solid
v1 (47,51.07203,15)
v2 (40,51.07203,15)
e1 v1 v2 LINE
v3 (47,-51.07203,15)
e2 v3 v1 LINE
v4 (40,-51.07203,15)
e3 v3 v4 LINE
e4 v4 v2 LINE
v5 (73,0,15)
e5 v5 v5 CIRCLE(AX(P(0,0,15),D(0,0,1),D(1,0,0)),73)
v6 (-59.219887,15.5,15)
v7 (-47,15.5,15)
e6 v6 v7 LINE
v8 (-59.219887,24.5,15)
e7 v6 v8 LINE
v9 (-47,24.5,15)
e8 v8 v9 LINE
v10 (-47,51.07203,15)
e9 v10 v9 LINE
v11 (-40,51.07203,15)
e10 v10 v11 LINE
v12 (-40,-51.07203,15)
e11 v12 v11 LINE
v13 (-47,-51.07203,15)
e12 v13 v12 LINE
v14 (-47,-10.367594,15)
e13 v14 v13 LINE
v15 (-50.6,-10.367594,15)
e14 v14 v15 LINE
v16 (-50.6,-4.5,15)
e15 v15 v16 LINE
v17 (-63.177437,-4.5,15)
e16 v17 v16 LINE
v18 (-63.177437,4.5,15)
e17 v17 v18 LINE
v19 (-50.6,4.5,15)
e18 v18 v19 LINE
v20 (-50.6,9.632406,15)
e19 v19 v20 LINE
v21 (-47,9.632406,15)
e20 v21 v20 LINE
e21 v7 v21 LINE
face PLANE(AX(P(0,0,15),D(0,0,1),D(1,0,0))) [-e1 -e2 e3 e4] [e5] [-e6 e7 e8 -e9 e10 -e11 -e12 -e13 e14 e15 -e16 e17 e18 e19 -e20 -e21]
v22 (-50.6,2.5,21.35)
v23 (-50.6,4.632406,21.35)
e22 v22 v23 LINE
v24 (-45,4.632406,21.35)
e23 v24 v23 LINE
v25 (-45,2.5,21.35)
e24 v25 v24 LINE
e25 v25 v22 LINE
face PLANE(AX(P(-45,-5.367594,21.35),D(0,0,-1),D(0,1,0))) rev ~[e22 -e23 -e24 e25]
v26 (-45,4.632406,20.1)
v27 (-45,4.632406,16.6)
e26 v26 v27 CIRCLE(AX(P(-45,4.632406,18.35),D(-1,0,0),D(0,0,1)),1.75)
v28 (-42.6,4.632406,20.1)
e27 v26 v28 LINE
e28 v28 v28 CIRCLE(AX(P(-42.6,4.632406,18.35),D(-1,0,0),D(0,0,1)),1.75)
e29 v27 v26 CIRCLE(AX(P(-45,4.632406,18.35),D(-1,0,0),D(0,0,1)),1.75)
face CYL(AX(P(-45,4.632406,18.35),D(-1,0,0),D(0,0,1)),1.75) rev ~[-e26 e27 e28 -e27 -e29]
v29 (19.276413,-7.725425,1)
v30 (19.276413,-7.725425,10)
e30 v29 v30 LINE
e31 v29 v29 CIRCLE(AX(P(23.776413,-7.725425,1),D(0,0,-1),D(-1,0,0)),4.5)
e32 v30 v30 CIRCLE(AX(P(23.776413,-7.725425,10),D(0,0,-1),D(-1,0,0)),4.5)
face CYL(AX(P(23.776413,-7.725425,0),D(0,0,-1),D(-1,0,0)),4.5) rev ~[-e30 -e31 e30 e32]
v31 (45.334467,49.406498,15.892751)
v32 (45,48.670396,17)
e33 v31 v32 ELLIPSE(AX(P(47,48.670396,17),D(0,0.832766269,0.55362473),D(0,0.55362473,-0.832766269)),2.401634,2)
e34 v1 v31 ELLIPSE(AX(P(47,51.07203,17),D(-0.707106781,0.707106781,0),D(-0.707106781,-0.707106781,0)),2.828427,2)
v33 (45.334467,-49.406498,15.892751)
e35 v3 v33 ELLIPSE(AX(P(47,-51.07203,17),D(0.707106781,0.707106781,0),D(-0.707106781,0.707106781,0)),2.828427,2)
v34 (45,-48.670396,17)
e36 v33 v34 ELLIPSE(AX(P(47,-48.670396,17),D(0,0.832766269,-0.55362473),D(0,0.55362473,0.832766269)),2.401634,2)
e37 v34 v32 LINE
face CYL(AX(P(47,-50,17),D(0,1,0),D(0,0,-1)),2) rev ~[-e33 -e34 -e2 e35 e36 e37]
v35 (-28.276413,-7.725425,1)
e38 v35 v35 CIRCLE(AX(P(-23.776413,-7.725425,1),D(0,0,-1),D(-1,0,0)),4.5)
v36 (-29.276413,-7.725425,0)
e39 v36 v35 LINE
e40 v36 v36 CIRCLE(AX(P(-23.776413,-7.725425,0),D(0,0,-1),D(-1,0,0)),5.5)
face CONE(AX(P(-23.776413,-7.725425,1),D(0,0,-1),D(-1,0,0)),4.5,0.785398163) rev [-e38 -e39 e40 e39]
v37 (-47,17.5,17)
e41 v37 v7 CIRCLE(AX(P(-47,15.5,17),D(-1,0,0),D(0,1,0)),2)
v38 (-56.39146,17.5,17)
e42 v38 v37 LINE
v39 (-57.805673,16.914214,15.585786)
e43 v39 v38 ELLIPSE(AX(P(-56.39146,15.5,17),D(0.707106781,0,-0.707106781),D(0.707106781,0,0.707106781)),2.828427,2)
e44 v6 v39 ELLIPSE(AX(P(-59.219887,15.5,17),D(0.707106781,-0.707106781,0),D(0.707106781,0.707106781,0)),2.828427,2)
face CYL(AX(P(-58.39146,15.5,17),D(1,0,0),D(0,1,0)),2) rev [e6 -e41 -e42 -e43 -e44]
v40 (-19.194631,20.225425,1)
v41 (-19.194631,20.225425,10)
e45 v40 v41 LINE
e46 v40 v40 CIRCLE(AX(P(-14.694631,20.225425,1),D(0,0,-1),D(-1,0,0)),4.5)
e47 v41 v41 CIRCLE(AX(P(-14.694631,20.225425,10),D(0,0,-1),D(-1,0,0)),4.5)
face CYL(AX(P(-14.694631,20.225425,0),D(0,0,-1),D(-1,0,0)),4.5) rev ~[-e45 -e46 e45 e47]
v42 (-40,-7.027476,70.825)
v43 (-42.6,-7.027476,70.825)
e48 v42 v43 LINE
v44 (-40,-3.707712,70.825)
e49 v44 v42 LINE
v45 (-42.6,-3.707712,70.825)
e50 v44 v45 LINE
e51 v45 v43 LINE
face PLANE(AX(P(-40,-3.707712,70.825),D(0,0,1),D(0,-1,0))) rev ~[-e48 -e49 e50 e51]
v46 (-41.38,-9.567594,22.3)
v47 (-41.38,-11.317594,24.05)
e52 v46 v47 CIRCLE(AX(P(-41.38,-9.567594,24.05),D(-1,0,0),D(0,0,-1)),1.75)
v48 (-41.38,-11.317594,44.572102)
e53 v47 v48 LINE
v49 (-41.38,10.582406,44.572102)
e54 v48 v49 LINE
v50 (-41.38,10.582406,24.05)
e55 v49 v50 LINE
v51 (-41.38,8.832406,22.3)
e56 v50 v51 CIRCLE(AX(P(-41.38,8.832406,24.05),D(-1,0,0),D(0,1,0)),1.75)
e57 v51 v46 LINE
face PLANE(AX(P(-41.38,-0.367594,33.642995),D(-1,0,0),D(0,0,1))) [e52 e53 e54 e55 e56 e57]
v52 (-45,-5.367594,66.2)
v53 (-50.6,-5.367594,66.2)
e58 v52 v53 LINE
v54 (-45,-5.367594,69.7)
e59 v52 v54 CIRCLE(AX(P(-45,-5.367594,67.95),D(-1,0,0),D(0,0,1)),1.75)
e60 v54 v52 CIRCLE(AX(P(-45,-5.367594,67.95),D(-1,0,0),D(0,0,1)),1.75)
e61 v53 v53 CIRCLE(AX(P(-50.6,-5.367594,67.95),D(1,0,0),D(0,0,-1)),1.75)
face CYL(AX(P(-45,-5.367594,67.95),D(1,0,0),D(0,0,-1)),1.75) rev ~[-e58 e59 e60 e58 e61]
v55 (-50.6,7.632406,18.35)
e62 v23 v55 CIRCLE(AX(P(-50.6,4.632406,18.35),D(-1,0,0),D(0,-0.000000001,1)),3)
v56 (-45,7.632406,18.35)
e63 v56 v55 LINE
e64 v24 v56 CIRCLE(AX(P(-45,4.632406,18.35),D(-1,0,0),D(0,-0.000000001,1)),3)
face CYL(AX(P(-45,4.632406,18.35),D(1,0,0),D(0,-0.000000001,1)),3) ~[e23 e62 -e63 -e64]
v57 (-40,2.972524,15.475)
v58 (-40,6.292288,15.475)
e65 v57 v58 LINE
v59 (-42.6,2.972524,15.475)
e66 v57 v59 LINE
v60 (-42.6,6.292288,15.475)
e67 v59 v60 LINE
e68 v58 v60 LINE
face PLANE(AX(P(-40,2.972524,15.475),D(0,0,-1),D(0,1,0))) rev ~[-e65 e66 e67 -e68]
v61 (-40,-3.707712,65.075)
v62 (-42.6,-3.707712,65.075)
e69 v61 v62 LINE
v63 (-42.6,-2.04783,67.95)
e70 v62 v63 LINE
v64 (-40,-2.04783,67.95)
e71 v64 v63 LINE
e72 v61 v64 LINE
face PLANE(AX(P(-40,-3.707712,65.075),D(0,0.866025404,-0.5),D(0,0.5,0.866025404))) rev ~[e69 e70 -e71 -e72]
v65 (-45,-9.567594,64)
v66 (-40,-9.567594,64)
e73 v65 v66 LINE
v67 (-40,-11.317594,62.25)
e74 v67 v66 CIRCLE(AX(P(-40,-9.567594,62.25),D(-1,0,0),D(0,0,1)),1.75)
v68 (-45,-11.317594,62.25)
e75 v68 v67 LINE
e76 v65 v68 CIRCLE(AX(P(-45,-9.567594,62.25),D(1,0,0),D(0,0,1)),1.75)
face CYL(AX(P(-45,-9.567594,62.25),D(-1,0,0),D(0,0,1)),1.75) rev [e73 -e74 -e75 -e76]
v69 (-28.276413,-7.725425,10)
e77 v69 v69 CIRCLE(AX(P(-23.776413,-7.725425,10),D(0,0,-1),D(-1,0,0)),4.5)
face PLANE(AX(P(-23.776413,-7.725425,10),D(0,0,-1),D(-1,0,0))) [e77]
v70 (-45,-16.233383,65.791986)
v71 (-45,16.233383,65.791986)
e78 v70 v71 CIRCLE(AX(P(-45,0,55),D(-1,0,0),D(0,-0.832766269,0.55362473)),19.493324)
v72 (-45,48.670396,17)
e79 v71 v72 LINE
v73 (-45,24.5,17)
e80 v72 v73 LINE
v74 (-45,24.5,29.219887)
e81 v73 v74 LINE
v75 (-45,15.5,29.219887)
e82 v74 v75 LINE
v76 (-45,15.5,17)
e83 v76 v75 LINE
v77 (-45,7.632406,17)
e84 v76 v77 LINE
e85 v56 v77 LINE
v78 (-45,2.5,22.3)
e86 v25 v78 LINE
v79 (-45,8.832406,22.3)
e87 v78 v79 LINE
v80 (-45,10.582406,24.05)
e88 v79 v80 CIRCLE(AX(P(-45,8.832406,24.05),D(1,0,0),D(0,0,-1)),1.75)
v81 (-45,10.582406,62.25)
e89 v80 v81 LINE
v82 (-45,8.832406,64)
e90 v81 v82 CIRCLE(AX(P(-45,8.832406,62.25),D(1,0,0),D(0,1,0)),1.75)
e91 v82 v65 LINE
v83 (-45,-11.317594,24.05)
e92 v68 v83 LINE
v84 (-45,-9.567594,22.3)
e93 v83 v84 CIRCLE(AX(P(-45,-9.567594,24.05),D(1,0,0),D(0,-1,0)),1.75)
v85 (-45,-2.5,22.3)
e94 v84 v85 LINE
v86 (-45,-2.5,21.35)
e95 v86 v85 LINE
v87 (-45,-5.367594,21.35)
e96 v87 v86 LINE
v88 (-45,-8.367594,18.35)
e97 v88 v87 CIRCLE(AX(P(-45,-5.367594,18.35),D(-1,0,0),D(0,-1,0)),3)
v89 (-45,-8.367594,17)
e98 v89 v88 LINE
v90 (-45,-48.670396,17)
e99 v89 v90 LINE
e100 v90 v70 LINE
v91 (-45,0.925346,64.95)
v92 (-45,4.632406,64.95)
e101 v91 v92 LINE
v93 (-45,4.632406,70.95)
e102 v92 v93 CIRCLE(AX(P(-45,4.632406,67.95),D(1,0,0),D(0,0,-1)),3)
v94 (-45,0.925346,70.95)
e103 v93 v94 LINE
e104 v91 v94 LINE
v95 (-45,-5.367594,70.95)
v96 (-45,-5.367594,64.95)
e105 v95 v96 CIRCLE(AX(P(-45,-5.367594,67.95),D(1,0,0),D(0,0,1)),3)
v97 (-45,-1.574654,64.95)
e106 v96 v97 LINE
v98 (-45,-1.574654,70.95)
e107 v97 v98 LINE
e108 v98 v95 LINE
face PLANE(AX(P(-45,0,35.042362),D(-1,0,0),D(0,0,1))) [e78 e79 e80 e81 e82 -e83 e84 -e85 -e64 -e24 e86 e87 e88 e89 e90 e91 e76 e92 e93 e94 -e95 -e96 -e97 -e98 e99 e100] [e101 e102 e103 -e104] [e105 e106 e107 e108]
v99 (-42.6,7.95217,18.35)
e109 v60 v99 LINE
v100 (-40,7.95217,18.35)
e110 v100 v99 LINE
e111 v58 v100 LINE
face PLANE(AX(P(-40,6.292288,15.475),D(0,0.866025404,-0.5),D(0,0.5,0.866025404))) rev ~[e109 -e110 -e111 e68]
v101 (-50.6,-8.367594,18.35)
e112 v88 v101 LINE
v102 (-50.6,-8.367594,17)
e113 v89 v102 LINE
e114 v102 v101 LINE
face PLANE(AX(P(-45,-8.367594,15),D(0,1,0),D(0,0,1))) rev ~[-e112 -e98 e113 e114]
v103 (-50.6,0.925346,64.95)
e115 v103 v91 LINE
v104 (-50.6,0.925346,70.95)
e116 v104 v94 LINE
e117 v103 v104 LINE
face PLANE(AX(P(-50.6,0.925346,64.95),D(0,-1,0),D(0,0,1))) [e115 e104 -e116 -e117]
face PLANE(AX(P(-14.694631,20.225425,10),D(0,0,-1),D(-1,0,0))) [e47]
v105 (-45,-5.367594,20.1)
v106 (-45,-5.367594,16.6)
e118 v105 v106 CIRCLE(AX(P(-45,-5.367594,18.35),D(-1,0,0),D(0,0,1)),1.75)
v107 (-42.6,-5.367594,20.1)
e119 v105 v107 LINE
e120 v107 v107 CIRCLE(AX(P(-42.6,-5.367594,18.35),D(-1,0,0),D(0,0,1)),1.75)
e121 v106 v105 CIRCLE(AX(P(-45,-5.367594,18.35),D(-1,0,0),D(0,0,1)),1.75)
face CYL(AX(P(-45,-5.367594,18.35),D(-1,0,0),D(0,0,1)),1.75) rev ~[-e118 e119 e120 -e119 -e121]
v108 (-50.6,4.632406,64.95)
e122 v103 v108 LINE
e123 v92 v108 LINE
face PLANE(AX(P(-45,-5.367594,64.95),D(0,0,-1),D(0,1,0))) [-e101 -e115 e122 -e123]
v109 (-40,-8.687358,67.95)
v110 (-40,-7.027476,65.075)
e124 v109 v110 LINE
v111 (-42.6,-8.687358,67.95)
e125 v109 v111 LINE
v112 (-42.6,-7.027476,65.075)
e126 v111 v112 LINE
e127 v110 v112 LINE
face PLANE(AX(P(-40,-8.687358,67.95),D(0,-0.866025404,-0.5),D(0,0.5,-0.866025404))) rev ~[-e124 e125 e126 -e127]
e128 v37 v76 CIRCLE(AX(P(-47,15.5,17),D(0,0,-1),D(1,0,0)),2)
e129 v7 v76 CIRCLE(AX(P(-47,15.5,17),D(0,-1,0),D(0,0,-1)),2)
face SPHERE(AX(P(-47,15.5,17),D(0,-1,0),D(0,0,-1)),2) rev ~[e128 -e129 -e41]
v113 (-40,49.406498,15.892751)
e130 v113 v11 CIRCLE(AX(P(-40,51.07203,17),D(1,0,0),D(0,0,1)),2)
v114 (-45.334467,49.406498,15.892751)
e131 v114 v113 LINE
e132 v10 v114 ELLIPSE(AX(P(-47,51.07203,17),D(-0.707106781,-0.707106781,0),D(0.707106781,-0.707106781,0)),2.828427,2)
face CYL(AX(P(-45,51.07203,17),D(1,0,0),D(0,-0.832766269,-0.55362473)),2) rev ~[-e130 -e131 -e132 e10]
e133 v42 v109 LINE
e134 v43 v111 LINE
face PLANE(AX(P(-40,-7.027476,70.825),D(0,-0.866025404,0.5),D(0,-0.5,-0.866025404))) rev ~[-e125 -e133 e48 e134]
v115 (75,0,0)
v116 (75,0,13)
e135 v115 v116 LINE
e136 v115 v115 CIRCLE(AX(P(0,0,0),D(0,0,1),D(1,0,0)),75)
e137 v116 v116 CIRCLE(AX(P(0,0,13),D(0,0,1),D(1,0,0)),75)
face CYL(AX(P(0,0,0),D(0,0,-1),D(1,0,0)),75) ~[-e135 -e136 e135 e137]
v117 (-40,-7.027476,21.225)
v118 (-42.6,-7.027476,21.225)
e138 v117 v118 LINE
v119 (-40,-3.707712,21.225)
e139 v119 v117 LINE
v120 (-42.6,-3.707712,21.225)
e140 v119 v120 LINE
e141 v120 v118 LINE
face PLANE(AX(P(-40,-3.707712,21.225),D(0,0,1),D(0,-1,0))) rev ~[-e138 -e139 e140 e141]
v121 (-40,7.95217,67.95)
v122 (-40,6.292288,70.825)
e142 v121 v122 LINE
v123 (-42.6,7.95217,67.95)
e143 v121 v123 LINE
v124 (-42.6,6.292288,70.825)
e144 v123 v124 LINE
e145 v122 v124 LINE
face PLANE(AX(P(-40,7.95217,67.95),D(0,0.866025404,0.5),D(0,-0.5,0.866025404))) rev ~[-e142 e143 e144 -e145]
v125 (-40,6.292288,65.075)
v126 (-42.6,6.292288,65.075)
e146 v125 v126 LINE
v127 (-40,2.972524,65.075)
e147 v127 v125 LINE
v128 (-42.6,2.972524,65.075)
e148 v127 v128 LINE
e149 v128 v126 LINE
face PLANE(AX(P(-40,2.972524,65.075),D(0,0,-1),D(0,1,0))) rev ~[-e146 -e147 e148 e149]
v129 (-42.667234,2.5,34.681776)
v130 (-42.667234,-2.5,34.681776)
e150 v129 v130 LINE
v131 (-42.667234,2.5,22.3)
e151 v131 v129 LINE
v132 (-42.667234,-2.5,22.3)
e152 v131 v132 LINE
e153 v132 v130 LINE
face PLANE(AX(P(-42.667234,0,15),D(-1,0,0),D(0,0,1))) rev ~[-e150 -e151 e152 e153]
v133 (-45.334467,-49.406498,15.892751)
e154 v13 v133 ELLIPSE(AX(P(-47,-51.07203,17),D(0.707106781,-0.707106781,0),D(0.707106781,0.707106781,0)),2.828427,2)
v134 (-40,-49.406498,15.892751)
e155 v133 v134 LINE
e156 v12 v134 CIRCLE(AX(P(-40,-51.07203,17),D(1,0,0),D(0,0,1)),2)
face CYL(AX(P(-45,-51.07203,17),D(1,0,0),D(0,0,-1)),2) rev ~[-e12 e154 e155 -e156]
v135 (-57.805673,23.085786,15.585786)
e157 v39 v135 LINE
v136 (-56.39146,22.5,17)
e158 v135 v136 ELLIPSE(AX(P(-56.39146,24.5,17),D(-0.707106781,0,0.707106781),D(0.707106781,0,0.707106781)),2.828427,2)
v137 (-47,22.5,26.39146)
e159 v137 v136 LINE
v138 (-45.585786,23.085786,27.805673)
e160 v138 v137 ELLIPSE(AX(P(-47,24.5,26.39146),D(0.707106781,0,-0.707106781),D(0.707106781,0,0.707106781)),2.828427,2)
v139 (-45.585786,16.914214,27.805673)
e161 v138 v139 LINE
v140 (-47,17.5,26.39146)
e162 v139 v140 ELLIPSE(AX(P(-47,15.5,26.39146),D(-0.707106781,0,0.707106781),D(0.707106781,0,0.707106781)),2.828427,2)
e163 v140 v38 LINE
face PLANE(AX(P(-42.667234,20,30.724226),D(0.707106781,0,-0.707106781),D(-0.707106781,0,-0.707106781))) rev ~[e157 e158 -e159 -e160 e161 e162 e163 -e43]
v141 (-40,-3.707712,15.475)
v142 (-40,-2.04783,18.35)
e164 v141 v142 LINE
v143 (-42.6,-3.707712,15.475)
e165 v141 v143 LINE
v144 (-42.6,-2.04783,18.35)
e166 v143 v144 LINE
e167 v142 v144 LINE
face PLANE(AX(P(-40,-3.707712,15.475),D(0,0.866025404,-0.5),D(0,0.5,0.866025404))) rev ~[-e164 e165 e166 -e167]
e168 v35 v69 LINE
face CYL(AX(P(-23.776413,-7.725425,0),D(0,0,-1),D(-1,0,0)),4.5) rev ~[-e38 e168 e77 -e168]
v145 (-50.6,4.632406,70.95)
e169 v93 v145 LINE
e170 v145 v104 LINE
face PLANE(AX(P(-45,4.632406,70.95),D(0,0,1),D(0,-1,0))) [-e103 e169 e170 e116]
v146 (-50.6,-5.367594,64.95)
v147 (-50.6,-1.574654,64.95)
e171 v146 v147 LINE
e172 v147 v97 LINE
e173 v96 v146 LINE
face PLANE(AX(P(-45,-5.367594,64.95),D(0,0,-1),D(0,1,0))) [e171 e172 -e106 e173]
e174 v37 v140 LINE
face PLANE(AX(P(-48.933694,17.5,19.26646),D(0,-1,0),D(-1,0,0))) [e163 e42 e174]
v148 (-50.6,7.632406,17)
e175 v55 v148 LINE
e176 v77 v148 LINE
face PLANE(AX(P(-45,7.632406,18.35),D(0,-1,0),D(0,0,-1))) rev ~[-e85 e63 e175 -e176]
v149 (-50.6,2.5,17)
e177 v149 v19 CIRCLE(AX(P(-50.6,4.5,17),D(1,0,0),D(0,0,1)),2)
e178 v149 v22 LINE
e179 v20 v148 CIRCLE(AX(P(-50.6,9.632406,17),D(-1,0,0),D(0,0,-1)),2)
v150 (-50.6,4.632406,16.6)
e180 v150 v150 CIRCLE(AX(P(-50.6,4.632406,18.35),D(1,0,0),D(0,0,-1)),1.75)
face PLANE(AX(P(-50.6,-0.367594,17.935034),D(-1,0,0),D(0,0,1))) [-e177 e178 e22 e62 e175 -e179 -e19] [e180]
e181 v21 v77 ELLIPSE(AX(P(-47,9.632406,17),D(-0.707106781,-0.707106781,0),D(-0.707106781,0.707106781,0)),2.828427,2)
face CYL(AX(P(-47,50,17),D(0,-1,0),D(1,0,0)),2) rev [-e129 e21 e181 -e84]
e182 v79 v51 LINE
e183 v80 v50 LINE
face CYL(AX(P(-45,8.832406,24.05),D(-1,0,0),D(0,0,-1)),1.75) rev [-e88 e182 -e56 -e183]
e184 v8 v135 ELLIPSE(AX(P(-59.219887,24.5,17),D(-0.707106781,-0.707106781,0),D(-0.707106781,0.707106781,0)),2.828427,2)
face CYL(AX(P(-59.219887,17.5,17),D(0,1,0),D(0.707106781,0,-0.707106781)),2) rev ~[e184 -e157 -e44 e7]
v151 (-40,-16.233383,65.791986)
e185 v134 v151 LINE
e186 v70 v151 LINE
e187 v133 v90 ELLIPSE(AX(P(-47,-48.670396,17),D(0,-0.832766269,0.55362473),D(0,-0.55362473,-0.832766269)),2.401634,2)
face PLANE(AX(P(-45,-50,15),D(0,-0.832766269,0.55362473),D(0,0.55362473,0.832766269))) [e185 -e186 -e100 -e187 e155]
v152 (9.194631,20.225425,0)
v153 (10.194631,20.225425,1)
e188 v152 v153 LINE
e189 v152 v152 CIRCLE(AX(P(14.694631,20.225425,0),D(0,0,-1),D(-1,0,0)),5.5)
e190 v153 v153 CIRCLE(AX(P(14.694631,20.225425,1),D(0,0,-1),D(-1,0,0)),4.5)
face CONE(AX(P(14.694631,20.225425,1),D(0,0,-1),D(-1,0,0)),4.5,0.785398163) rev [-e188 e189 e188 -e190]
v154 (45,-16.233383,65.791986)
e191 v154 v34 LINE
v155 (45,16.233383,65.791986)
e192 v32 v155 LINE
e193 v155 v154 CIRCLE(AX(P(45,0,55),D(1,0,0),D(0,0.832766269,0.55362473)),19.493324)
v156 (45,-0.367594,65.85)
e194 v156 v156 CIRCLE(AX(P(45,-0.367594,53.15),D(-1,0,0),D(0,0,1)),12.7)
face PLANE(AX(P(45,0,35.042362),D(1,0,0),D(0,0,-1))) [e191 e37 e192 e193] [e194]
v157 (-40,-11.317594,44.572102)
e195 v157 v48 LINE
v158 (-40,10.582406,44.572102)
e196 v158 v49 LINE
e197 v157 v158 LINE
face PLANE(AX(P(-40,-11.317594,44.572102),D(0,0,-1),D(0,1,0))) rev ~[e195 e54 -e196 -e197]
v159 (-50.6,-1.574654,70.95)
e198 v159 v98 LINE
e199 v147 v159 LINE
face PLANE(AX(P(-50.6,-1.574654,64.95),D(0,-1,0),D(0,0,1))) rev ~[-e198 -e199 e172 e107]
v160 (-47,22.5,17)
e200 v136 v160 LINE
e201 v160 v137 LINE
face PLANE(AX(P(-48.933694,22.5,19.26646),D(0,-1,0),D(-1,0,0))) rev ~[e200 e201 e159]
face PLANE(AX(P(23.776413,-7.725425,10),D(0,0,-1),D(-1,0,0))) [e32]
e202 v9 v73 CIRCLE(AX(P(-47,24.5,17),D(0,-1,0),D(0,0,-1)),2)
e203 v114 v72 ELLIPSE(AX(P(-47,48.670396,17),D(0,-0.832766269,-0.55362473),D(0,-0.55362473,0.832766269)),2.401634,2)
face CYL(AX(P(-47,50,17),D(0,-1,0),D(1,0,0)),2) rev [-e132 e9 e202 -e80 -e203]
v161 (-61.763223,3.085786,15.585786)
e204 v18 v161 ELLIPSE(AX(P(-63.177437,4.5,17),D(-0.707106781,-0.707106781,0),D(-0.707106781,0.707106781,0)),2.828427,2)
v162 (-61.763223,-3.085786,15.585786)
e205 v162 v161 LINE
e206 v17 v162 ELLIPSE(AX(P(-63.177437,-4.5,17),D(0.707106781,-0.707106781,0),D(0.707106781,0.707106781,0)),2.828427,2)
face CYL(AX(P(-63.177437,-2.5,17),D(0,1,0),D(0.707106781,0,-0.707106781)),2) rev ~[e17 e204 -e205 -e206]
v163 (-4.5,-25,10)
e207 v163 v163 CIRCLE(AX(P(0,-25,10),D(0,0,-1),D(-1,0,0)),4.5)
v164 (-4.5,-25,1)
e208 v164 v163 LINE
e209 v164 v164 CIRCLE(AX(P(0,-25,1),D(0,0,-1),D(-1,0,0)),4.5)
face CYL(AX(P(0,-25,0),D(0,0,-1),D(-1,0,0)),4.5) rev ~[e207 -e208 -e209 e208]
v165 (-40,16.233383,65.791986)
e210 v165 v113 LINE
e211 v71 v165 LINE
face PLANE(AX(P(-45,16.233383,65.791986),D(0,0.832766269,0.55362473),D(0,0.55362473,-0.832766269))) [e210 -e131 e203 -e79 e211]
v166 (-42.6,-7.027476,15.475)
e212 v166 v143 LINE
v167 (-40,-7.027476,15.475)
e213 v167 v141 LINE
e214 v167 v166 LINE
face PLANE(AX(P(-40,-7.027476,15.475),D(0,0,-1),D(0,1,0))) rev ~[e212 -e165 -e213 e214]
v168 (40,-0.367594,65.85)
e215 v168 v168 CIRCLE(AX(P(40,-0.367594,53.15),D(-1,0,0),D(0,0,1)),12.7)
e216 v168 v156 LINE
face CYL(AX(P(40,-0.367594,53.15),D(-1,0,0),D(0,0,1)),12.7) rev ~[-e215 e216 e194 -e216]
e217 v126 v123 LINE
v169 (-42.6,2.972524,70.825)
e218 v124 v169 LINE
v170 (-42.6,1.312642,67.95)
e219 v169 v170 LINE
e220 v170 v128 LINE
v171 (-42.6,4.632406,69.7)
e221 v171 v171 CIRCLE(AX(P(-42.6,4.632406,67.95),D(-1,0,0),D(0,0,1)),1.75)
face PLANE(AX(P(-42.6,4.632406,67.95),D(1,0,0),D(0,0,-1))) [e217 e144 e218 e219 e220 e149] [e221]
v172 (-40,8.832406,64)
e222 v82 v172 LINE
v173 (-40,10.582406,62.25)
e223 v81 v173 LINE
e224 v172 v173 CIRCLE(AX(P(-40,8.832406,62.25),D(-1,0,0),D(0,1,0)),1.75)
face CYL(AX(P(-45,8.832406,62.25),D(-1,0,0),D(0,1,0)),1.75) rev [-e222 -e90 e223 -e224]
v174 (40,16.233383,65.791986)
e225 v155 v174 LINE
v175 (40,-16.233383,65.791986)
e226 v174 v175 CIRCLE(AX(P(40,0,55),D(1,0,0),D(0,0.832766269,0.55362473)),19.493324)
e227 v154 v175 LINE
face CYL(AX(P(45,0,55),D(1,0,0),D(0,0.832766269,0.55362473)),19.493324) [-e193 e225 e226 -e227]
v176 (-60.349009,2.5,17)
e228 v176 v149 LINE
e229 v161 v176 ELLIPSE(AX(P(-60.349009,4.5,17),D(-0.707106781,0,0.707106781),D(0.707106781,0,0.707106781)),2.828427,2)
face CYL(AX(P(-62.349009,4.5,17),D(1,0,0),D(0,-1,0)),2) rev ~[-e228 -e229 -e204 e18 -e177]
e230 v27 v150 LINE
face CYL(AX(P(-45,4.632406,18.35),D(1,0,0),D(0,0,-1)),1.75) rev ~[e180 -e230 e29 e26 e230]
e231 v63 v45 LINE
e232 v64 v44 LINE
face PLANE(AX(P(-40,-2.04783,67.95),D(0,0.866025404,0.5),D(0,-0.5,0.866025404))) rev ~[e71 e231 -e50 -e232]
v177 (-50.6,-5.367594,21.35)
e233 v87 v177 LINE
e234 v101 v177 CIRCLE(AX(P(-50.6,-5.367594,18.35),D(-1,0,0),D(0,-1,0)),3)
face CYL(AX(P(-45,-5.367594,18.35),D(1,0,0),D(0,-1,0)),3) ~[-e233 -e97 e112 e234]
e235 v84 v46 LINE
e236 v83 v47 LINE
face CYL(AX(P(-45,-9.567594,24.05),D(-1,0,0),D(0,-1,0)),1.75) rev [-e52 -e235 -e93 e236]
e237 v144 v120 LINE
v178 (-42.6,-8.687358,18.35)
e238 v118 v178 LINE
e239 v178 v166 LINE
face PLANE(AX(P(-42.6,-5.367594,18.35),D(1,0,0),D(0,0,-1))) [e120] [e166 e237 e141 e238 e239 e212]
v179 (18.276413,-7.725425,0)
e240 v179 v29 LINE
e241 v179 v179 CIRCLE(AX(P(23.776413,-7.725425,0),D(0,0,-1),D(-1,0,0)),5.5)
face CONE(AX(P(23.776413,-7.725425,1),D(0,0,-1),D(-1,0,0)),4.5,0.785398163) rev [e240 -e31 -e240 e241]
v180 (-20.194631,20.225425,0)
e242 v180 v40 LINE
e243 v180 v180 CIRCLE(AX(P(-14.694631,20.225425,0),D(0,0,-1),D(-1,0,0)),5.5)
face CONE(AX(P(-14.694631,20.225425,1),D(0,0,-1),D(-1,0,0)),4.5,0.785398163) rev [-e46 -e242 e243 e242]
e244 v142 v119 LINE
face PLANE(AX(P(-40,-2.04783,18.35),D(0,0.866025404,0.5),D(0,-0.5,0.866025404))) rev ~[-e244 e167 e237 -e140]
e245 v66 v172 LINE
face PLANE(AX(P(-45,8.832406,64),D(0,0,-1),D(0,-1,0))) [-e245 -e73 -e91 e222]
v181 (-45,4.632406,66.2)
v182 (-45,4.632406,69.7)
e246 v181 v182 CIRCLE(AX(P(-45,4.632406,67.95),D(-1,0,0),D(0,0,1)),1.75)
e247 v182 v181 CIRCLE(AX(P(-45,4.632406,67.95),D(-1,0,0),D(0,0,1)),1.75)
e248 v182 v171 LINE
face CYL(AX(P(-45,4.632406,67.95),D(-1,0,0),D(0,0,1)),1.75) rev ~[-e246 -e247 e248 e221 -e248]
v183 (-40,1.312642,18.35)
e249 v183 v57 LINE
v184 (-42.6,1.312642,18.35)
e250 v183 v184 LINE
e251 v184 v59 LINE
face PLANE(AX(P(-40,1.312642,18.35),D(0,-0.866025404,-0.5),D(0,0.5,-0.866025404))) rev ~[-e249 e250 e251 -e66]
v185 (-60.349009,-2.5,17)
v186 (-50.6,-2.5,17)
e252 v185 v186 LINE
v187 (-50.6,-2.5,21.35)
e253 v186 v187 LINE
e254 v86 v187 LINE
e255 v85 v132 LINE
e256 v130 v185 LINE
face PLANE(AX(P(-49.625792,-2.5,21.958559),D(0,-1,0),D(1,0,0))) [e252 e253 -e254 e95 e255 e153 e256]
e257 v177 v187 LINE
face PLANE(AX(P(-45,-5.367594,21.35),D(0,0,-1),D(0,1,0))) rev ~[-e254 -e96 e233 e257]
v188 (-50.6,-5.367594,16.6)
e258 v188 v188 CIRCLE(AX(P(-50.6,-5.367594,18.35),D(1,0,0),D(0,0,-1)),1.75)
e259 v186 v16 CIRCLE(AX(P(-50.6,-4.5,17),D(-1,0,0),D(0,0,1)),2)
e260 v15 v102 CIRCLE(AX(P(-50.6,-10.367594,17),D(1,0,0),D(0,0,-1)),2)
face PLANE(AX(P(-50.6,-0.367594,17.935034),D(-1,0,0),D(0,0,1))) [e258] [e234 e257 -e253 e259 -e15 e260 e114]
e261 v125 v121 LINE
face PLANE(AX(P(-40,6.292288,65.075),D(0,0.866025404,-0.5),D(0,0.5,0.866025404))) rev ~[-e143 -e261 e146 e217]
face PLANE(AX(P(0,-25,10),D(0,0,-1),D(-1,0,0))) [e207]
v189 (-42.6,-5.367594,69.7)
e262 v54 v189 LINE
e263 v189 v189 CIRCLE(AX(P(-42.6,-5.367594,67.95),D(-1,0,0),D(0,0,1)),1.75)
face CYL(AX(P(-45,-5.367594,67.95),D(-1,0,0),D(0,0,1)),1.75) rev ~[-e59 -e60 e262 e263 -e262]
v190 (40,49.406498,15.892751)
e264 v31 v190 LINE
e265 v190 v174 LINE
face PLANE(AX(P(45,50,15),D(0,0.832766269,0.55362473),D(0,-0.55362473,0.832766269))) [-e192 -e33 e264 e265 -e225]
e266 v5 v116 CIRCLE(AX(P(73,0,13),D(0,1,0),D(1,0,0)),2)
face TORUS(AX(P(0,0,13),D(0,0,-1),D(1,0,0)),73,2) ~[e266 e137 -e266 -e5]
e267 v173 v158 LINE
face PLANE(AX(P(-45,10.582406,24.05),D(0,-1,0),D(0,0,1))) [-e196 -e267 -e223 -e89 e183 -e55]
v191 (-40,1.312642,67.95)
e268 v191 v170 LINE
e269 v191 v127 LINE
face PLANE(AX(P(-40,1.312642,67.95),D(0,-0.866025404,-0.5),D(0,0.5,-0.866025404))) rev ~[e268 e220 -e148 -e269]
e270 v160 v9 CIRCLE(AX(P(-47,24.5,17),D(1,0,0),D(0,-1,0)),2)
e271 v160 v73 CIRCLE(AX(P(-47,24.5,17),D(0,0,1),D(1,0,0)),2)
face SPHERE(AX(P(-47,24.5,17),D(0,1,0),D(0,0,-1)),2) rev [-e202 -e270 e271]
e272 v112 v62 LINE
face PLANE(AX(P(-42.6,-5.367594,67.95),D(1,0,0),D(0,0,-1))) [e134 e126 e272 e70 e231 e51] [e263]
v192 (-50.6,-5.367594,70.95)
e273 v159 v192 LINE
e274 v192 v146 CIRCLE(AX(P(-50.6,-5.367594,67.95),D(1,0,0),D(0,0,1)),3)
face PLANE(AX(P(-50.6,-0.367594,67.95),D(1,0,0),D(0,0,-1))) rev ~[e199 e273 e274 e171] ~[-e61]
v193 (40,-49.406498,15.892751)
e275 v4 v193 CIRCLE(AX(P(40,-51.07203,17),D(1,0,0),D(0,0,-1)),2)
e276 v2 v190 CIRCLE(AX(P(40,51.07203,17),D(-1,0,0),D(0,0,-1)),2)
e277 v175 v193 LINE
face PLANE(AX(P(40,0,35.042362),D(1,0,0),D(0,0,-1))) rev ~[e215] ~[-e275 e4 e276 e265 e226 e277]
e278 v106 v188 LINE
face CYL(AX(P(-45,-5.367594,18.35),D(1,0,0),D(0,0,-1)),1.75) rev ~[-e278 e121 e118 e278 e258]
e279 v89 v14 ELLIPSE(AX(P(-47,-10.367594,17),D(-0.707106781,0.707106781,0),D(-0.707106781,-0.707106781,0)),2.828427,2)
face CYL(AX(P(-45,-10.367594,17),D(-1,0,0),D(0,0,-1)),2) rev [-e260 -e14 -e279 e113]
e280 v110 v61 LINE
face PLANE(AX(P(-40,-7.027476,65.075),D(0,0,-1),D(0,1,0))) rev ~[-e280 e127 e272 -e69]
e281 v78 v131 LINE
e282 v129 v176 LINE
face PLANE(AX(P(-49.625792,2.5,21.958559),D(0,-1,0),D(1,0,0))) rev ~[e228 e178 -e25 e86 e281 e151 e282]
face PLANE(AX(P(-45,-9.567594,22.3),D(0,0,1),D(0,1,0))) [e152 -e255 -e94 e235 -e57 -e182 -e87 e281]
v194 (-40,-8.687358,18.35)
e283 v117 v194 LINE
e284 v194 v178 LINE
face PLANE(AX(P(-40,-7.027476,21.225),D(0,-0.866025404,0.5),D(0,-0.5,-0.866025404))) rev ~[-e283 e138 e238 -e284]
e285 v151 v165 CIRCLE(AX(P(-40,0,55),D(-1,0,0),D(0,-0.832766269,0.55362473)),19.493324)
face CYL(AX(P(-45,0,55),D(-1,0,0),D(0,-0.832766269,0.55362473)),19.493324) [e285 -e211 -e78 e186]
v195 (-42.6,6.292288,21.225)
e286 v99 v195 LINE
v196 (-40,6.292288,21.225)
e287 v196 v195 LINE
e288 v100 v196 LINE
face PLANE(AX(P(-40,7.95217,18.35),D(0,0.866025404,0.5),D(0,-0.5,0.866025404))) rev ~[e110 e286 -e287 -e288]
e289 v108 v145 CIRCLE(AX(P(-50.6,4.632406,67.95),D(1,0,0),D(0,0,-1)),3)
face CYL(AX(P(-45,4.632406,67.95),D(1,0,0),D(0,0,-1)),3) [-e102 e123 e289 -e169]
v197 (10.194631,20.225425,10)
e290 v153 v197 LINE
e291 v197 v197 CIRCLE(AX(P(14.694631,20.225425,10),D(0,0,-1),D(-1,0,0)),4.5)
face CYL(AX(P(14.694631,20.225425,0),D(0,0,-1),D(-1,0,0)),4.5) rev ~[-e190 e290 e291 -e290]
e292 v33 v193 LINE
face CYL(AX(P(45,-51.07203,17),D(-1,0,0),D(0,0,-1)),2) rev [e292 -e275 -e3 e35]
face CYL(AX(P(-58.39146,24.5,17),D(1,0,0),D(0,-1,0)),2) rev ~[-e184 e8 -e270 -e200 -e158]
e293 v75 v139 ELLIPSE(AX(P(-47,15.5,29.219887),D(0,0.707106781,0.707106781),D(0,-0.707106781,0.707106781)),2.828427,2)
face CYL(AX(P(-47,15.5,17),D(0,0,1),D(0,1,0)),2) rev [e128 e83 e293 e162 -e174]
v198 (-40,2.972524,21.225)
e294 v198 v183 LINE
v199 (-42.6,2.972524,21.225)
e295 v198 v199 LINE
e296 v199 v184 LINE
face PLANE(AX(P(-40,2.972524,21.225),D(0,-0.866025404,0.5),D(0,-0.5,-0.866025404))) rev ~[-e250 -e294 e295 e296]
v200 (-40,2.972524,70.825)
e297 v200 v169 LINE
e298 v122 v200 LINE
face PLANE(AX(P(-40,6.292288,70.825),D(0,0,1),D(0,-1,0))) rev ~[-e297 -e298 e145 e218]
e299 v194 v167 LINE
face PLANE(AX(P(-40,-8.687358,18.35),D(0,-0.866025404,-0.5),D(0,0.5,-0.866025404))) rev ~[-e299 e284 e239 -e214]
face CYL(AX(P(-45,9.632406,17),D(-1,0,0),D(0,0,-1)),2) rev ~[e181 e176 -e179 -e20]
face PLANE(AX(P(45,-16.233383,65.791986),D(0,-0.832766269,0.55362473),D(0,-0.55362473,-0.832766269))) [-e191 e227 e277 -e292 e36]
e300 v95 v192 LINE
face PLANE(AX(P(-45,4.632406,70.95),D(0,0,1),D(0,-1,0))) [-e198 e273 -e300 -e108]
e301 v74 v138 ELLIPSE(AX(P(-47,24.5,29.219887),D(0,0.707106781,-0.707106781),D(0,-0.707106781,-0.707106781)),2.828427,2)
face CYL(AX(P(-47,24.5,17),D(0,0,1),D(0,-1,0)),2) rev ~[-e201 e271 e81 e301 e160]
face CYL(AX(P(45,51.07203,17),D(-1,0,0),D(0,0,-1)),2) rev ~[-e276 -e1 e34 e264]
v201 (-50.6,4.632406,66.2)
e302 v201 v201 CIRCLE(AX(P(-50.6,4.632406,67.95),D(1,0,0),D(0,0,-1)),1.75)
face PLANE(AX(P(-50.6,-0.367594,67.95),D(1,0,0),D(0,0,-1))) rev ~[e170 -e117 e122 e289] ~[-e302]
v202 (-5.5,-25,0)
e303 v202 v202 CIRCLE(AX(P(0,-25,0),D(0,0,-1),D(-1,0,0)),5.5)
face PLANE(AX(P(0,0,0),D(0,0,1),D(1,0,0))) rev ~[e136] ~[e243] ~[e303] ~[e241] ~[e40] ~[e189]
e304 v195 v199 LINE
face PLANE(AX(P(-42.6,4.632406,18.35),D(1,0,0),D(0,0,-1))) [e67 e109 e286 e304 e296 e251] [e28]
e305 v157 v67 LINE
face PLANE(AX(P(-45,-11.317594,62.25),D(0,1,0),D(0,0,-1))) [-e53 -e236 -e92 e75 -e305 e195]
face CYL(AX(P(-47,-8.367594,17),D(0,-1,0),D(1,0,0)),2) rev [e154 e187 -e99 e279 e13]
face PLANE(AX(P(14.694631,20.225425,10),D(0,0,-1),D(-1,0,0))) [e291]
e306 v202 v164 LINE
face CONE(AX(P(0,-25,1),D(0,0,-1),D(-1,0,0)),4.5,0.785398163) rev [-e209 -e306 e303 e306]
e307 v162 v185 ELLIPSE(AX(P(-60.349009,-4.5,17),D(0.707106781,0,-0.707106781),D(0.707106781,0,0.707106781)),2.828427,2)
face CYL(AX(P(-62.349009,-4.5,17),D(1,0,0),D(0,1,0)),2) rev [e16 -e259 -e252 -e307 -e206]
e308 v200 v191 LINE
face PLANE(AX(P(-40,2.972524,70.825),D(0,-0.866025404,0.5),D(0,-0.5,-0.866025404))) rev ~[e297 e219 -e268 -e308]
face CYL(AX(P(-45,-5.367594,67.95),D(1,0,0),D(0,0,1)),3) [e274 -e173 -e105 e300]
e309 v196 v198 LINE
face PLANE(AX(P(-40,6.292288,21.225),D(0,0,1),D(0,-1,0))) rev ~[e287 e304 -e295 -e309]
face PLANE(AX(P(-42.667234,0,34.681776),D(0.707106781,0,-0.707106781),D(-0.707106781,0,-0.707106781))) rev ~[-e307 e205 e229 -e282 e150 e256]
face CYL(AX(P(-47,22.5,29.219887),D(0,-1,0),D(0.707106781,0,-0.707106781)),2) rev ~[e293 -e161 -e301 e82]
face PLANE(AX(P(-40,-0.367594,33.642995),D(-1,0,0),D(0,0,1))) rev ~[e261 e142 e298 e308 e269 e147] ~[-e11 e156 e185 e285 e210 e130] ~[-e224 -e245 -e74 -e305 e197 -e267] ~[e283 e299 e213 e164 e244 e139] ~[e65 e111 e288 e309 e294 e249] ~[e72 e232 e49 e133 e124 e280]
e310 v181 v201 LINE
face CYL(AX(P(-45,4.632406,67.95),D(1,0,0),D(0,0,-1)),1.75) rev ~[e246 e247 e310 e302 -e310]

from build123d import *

# Parameters (mm, degrees)
SKETCH1_R           = 75
BASE_PLATE_DEPTH    = 15
SKETCH2_R           = 4.5
DRIVE_HOLES_DEPTH   = 10
CHAMFER1_SIZE       = 1
BASE_START          = 45
BASE_FIN_DEPTH      = 5
BASE_START_2        = 85
BASE_FIN_2_DEPTH    = 5
CUT_EXTRUDE1_REACH  = 122
CUT_EXTRUDE2_REACH  = 122
SKETCH7_R           = 1.75
BOSS_EXTRUDE1_DEPTH = 5.6
SKETCH9_R           = 1.75
CUT_EXTRUDE3_DEPTH  = 5.6
SKETCH10_W          = 4.6
SKETCH10_H          = 2.5
SKETCH10_W_2        = 6
CUT_EXTRUDE4_DEPTH  = 5.6
CUT_EXTRUDE5_DEPTH  = 2.6
BOSS_EXTRUDE2_DEPTH = 1.38
FILLET1_R           = 2
FILLET2_R           = 2
CUT_EXTRUDE6_REACH  = 37
SKETCH13_R          = 12.7
BOSS_EXTRUDE3_DEPTH = 2.5
FILLET3_R           = 2
BOSS_EXTRUDE4_START = 20
BOSS_EXTRUDE4_DEPTH = 2.5
BOSS_EXTRUDE5_START = 20
BOSS_EXTRUDE5_DEPTH = 2.5
FILLET4_R           = 2


with BuildPart() as part:
    # Sketch1 → Base Plate (new body)
    with BuildSketch(Plane.XY):
        Circle(SKETCH1_R)
    extrude(amount=BASE_PLATE_DEPTH)

    # Sketch2 → Drive Holes (cut)
    with BuildSketch(Plane(origin=(0, 0, 0), x_dir=(-1, 0, 0), z_dir=(0, 0, -1))):
        with Locations((0, -25)):
            Circle(SKETCH2_R)
        with Locations((-23.776412907, -7.725424859)):
            Circle(SKETCH2_R)
        with Locations((-14.694631307, 20.225424859)):
            Circle(SKETCH2_R)
        with Locations((14.694631307, 20.225424859)):
            Circle(SKETCH2_R)
        with Locations((23.776412907, -7.725424859)):
            Circle(SKETCH2_R)
    extrude(amount=-DRIVE_HOLES_DEPTH, mode=Mode.SUBTRACT)

    # Chamfer1
    chamfer1_edges = [part.edges().sort_by_distance(p)[0] for p in [
        (28.276412907, -7.725424859, 0),
        (19.194631307, 20.225424859, 0),
        (-10.194631307, 20.225424859, 0),
        (-19.276412907, -7.725424859, 0),
        (4.5, -25, 0),
    ]]
    chamfer(chamfer1_edges, length=CHAMFER1_SIZE)

    # Sketch4 → Base Fin (add)
    with BuildSketch(Plane(origin=(0, 0, 0), x_dir=(0, 0, -1), z_dir=(1, 0, 0)).offset(BASE_START)):
        with BuildLine():
            Line((-15, 50), (-65.791986374, 16.233382914))
            ThreePointArc((-65.791986374, 16.233382914), (-74.493324261, 0), (-65.791986374, -16.233382914))
            Line((-65.791986374, -16.233382914), (-15, -50))
            Line((-15, -50), (-15, 50))
        make_face()
    extrude(amount=-BASE_FIN_DEPTH)

    # Sketch5 → Base Fin 2 (add)
    with BuildSketch(Plane.ZY.offset(-40).offset(BASE_START_2)):
        with BuildLine():
            Line((15, 50), (15, -50))
            Line((15, -50), (65.791986374, -16.233382914))
            ThreePointArc((65.791986374, -16.233382914), (74.493324261, 0), (65.791986374, 16.233382914))
            Line((65.791986374, 16.233382914), (15, 50))
        make_face()
    extrude(amount=-BASE_FIN_2_DEPTH)

    # Sketch6 → Cut-Extrude1 (cut, up to next)
    with BuildSketch(Plane.ZY.offset(45), mode=Mode.PRIVATE) as cut_extrude1_sk1:
        with BuildLine():
            Line((64, 8.832406236), (64, -9.567593764))
            ThreePointArc((64, -9.567593764), (63.487436867, -10.805030631), (62.25, -11.317593764))
            Line((62.25, -11.317593764), (24.05, -11.317593764))
            ThreePointArc((24.05, -11.317593764), (22.812563133, -10.805030631), (22.3, -9.567593764))
            Line((22.3, -9.567593764), (22.3, 8.832406236))
            ThreePointArc((22.3, 8.832406236), (22.812563133, 10.069843103), (24.05, 10.582406236))
            Line((24.05, 10.582406236), (62.25, 10.582406236))
            ThreePointArc((62.25, 10.582406236), (63.487436867, 10.069843103), (64, 8.832406236))
        make_face()
    cut_extrude1_tool1 = extrude(cut_extrude1_sk1.sketch, amount=-CUT_EXTRUDE1_REACH, mode=Mode.PRIVATE) & part.part
    add(cut_extrude1_tool1.solids().sort_by_distance((-45, -0.367594, 43.15))[0], mode=Mode.SUBTRACT)

    # Sketch7 → Cut-Extrude2 (cut, up to next)
    with BuildSketch(Plane.ZY.offset(45), mode=Mode.PRIVATE) as cut_extrude2_sk1:
        with Locations((18.35, 4.632406236)):
            Circle(SKETCH7_R)
    cut_extrude2_tool1 = extrude(cut_extrude2_sk1.sketch, amount=-CUT_EXTRUDE2_REACH, mode=Mode.PRIVATE) & part.part
    add(cut_extrude2_tool1.solids().sort_by_distance((-45, 4.632406, 18.35))[0], mode=Mode.SUBTRACT)
    # Sketch7 → Cut-Extrude2 (cut, up to next)
    with BuildSketch(Plane.ZY.offset(45), mode=Mode.PRIVATE) as cut_extrude2_sk2:
        with Locations((18.35, -5.367593764)):
            Circle(SKETCH7_R)
    cut_extrude2_tool2 = extrude(cut_extrude2_sk2.sketch, amount=-CUT_EXTRUDE2_REACH, mode=Mode.PRIVATE) & part.part
    add(cut_extrude2_tool2.solids().sort_by_distance((-45, -5.367594, 18.35))[0], mode=Mode.SUBTRACT)
    # Sketch7 → Cut-Extrude2 (cut, up to next)
    with BuildSketch(Plane.ZY.offset(45), mode=Mode.PRIVATE) as cut_extrude2_sk3:
        with Locations((67.95, -5.367593764)):
            Circle(SKETCH7_R)
    cut_extrude2_tool3 = extrude(cut_extrude2_sk3.sketch, amount=-CUT_EXTRUDE2_REACH, mode=Mode.PRIVATE) & part.part
    add(cut_extrude2_tool3.solids().sort_by_distance((-45, -5.367594, 67.95))[0], mode=Mode.SUBTRACT)
    # Sketch7 → Cut-Extrude2 (cut, up to next)
    with BuildSketch(Plane.ZY.offset(45), mode=Mode.PRIVATE) as cut_extrude2_sk4:
        with Locations((67.95, 4.632406236)):
            Circle(SKETCH7_R)
    cut_extrude2_tool4 = extrude(cut_extrude2_sk4.sketch, amount=-CUT_EXTRUDE2_REACH, mode=Mode.PRIVATE) & part.part
    add(cut_extrude2_tool4.solids().sort_by_distance((-45, 4.632406, 67.95))[0], mode=Mode.SUBTRACT)

    # Sketch8 → Boss-Extrude1 (add)
    with BuildSketch(Plane.ZY.offset(45)):
        with BuildLine():
            Line((70.95, 4.632406236), (70.95, -5.367593764))
            ThreePointArc((70.95, -5.367593764), (67.95, -8.367593764), (64.95, -5.367593764))
            Line((64.95, -5.367593764), (64.95, 4.632406236))
            ThreePointArc((64.95, 4.632406236), (67.95, 7.632406236), (70.95, 4.632406236))
        make_face()
        with BuildLine():
            Line((15, 7.632406236), (15, 0))
            Line((15, 0), (15, -8.367593764))
            Line((15, -8.367593764), (18.35, -8.367593764))
            ThreePointArc((18.35, -8.367593764), (20.471320344, -7.488914107), (21.35, -5.367593764))
            Line((21.35, -5.367593764), (21.35, 4.632406236))
            ThreePointArc((21.35, 4.632406236), (20.471320344, 6.75372658), (18.35, 7.632406236))
            Line((18.35, 7.632406236), (15, 7.632406236))
        make_face()
    extrude(amount=BOSS_EXTRUDE1_DEPTH)

    # Sketch9 → Cut-Extrude3 (cut)
    with BuildSketch(Plane(origin=(-45, 0, 0), x_dir=(0, 0, -1), z_dir=(1, 0, 0))):
        with Locations((-67.95, -5.367593764)):
            Circle(SKETCH9_R)
        with Locations((-67.95, 4.632406236)):
            Circle(SKETCH9_R)
        with Locations((-18.35, -5.367593764)):
            Circle(SKETCH9_R)
        with Locations((-18.35, 4.632406236)):
            Circle(SKETCH9_R)
    extrude(amount=-CUT_EXTRUDE3_DEPTH, mode=Mode.SUBTRACT)

    # Sketch10 → Cut-Extrude4 (cut)
    with BuildSketch(Plane.ZY.offset(50.6)):
        with Locations((19.05, -0.367593764)):
            Rectangle(SKETCH10_W, SKETCH10_H)
        with Locations((67.95, -0.324654002)):
            Rectangle(SKETCH10_W_2, SKETCH10_H)
    extrude(amount=-CUT_EXTRUDE4_DEPTH, mode=Mode.SUBTRACT)

    # Sketch11 → Cut-Extrude5 (cut)
    with BuildSketch(Plane(origin=(-40, 0, 0), x_dir=(0, 0, -1), z_dir=(1, 0, 0))):
        Polygon((-65.075, -7.027475787), (-65.075, -3.70771174), (-67.95, -2.047829716), (-70.825, -3.70771174), (-70.825, -7.027475787), (-67.95, -8.687357811), align=None)
        Polygon((-65.075, 2.972524213), (-65.075, 6.29228826), (-67.95, 7.952170284), (-70.825, 6.29228826), (-70.825, 2.972524213), (-67.95, 1.312642189), align=None)
        Polygon((-15.475, -7.027475787), (-15.475, -3.70771174), (-18.35, -2.047829716), (-21.225, -3.70771174), (-21.225, -7.027475787), (-18.35, -8.687357811), align=None)
        Polygon((-15.475, 2.972524213), (-15.475, 6.29228826), (-18.35, 7.952170284), (-21.225, 6.29228826), (-21.225, 2.972524213), (-18.35, 1.312642189), align=None)
    extrude(amount=-CUT_EXTRUDE5_DEPTH, mode=Mode.SUBTRACT)

    # Sketch12 → Boss-Extrude2 (add)
    with BuildSketch(Plane(origin=(-40, 0, 0), x_dir=(0, 0, -1), z_dir=(1, 0, 0))):
        with BuildLine():
            Line((-44.572101834, -11.317593764), (-44.572101834, 10.582406236))
            Line((-44.572101834, 10.582406236), (-24.05, 10.582406236))
            ThreePointArc((-24.05, 10.582406236), (-22.812563133, 10.069843103), (-22.3, 8.832406236))
            Line((-22.3, 8.832406236), (-22.3, -9.567593764))
            ThreePointArc((-22.3, -9.567593764), (-22.812563133, -10.805030631), (-24.05, -11.317593764))
            Line((-24.05, -11.317593764), (-44.572101834, -11.317593764))
        make_face()
    extrude(amount=-BOSS_EXTRUDE2_DEPTH)

    # Fillet1
    fillet1_edges = [part.edges().sort_by_distance(p)[0] for p in [
        (-45, -29.183796882, 15),
        (-47.8, -8.367593764, 15),
        (-47.8, 7.632406236, 15),
        (42.5, 50, 15),
        (42.5, -50, 15),
        (45, 0, 15),
        (-42.5, 50, 15),
        (-42.5, -50, 15),
        (-45, 28.816203118, 15),
    ]]
    fillet(fillet1_edges, radius=FILLET1_R)

    # Fillet2
    fillet2_edges = [part.edges().sort_by_distance(p)[0] for p in [
        (-75, 0, 15),
    ]]
    fillet(fillet2_edges, radius=FILLET2_R)

    # Sketch13 → Cut-Extrude6 (cut, up to next)
    with BuildSketch(Plane.ZY.offset(-40), mode=Mode.PRIVATE) as cut_extrude6_sk1:
        with Locations((53.15, -0.367593764)):
            Circle(SKETCH13_R)
    cut_extrude6_tool1 = extrude(cut_extrude6_sk1.sketch, amount=-CUT_EXTRUDE6_REACH, mode=Mode.PRIVATE) & part.part
    add(cut_extrude6_tool1.solids().sort_by_distance((40, -0.367594, 53.15))[0], mode=Mode.SUBTRACT)

    # Sketch15 → Boss-Extrude3 (add, symmetric)
    with BuildSketch(Plane(origin=(0, 0, 0), x_dir=(-1, 0, 0), z_dir=(0, 1, 0))):
        Polygon((42.667233731, 15), (42.667233731, 34.681775652), (62.349009383, 15), align=None)
    extrude(amount=BOSS_EXTRUDE3_DEPTH, both=True)

    # Fillet3
    fillet3_edges = [part.edges().sort_by_distance(p)[0] for p in [
        (-56.474504691, -2.5, 15),
        (-56.474504691, 2.5, 15),
        (-62.349009383, 0, 15),
    ]]
    fillet(fillet3_edges, radius=FILLET3_R)

    # Sketch17 → Boss-Extrude4 (add, symmetric)
    with BuildSketch(Plane(origin=(0, 0, 0), x_dir=(1, 0, 0), z_dir=(0, 1, 0)).offset(BOSS_EXTRUDE4_START)):
        Polygon((-42.667233731, -13), (-42.667233731, -30.724225819), (-60.39145955, -13), align=None)
    extrude(amount=BOSS_EXTRUDE4_DEPTH, both=True)

    # Sketch18 → Boss-Extrude5 (add, symmetric)
    with BuildSketch(Plane(origin=(0, 0, 0), x_dir=(-1, 0, 0), z_dir=(0, 1, 0)).offset(BOSS_EXTRUDE5_START)):
        Polygon((58.39145955, 15), (45, 28.39145955), (45, 15), align=None)
    extrude(amount=BOSS_EXTRUDE5_DEPTH, both=True)

    # Fillet4
    fillet4_edges = [part.edges().sort_by_distance(p)[0] for p in [
        (-45.585786438, 17.5, 15.585786438),
        (-45.585786438, 22.5, 15.585786438),
        (-45, 20, 28.39145955),
        (-58.39145955, 20, 15),
        (-52.695729775, 22.5, 15),
        (-45, 22.5, 22.695729775),
        (-52.695729775, 17.5, 15),
        (-45, 17.5, 22.695729775),
    ]]
    fillet(fillet4_edges, radius=FILLET4_R)


solid = part.part
